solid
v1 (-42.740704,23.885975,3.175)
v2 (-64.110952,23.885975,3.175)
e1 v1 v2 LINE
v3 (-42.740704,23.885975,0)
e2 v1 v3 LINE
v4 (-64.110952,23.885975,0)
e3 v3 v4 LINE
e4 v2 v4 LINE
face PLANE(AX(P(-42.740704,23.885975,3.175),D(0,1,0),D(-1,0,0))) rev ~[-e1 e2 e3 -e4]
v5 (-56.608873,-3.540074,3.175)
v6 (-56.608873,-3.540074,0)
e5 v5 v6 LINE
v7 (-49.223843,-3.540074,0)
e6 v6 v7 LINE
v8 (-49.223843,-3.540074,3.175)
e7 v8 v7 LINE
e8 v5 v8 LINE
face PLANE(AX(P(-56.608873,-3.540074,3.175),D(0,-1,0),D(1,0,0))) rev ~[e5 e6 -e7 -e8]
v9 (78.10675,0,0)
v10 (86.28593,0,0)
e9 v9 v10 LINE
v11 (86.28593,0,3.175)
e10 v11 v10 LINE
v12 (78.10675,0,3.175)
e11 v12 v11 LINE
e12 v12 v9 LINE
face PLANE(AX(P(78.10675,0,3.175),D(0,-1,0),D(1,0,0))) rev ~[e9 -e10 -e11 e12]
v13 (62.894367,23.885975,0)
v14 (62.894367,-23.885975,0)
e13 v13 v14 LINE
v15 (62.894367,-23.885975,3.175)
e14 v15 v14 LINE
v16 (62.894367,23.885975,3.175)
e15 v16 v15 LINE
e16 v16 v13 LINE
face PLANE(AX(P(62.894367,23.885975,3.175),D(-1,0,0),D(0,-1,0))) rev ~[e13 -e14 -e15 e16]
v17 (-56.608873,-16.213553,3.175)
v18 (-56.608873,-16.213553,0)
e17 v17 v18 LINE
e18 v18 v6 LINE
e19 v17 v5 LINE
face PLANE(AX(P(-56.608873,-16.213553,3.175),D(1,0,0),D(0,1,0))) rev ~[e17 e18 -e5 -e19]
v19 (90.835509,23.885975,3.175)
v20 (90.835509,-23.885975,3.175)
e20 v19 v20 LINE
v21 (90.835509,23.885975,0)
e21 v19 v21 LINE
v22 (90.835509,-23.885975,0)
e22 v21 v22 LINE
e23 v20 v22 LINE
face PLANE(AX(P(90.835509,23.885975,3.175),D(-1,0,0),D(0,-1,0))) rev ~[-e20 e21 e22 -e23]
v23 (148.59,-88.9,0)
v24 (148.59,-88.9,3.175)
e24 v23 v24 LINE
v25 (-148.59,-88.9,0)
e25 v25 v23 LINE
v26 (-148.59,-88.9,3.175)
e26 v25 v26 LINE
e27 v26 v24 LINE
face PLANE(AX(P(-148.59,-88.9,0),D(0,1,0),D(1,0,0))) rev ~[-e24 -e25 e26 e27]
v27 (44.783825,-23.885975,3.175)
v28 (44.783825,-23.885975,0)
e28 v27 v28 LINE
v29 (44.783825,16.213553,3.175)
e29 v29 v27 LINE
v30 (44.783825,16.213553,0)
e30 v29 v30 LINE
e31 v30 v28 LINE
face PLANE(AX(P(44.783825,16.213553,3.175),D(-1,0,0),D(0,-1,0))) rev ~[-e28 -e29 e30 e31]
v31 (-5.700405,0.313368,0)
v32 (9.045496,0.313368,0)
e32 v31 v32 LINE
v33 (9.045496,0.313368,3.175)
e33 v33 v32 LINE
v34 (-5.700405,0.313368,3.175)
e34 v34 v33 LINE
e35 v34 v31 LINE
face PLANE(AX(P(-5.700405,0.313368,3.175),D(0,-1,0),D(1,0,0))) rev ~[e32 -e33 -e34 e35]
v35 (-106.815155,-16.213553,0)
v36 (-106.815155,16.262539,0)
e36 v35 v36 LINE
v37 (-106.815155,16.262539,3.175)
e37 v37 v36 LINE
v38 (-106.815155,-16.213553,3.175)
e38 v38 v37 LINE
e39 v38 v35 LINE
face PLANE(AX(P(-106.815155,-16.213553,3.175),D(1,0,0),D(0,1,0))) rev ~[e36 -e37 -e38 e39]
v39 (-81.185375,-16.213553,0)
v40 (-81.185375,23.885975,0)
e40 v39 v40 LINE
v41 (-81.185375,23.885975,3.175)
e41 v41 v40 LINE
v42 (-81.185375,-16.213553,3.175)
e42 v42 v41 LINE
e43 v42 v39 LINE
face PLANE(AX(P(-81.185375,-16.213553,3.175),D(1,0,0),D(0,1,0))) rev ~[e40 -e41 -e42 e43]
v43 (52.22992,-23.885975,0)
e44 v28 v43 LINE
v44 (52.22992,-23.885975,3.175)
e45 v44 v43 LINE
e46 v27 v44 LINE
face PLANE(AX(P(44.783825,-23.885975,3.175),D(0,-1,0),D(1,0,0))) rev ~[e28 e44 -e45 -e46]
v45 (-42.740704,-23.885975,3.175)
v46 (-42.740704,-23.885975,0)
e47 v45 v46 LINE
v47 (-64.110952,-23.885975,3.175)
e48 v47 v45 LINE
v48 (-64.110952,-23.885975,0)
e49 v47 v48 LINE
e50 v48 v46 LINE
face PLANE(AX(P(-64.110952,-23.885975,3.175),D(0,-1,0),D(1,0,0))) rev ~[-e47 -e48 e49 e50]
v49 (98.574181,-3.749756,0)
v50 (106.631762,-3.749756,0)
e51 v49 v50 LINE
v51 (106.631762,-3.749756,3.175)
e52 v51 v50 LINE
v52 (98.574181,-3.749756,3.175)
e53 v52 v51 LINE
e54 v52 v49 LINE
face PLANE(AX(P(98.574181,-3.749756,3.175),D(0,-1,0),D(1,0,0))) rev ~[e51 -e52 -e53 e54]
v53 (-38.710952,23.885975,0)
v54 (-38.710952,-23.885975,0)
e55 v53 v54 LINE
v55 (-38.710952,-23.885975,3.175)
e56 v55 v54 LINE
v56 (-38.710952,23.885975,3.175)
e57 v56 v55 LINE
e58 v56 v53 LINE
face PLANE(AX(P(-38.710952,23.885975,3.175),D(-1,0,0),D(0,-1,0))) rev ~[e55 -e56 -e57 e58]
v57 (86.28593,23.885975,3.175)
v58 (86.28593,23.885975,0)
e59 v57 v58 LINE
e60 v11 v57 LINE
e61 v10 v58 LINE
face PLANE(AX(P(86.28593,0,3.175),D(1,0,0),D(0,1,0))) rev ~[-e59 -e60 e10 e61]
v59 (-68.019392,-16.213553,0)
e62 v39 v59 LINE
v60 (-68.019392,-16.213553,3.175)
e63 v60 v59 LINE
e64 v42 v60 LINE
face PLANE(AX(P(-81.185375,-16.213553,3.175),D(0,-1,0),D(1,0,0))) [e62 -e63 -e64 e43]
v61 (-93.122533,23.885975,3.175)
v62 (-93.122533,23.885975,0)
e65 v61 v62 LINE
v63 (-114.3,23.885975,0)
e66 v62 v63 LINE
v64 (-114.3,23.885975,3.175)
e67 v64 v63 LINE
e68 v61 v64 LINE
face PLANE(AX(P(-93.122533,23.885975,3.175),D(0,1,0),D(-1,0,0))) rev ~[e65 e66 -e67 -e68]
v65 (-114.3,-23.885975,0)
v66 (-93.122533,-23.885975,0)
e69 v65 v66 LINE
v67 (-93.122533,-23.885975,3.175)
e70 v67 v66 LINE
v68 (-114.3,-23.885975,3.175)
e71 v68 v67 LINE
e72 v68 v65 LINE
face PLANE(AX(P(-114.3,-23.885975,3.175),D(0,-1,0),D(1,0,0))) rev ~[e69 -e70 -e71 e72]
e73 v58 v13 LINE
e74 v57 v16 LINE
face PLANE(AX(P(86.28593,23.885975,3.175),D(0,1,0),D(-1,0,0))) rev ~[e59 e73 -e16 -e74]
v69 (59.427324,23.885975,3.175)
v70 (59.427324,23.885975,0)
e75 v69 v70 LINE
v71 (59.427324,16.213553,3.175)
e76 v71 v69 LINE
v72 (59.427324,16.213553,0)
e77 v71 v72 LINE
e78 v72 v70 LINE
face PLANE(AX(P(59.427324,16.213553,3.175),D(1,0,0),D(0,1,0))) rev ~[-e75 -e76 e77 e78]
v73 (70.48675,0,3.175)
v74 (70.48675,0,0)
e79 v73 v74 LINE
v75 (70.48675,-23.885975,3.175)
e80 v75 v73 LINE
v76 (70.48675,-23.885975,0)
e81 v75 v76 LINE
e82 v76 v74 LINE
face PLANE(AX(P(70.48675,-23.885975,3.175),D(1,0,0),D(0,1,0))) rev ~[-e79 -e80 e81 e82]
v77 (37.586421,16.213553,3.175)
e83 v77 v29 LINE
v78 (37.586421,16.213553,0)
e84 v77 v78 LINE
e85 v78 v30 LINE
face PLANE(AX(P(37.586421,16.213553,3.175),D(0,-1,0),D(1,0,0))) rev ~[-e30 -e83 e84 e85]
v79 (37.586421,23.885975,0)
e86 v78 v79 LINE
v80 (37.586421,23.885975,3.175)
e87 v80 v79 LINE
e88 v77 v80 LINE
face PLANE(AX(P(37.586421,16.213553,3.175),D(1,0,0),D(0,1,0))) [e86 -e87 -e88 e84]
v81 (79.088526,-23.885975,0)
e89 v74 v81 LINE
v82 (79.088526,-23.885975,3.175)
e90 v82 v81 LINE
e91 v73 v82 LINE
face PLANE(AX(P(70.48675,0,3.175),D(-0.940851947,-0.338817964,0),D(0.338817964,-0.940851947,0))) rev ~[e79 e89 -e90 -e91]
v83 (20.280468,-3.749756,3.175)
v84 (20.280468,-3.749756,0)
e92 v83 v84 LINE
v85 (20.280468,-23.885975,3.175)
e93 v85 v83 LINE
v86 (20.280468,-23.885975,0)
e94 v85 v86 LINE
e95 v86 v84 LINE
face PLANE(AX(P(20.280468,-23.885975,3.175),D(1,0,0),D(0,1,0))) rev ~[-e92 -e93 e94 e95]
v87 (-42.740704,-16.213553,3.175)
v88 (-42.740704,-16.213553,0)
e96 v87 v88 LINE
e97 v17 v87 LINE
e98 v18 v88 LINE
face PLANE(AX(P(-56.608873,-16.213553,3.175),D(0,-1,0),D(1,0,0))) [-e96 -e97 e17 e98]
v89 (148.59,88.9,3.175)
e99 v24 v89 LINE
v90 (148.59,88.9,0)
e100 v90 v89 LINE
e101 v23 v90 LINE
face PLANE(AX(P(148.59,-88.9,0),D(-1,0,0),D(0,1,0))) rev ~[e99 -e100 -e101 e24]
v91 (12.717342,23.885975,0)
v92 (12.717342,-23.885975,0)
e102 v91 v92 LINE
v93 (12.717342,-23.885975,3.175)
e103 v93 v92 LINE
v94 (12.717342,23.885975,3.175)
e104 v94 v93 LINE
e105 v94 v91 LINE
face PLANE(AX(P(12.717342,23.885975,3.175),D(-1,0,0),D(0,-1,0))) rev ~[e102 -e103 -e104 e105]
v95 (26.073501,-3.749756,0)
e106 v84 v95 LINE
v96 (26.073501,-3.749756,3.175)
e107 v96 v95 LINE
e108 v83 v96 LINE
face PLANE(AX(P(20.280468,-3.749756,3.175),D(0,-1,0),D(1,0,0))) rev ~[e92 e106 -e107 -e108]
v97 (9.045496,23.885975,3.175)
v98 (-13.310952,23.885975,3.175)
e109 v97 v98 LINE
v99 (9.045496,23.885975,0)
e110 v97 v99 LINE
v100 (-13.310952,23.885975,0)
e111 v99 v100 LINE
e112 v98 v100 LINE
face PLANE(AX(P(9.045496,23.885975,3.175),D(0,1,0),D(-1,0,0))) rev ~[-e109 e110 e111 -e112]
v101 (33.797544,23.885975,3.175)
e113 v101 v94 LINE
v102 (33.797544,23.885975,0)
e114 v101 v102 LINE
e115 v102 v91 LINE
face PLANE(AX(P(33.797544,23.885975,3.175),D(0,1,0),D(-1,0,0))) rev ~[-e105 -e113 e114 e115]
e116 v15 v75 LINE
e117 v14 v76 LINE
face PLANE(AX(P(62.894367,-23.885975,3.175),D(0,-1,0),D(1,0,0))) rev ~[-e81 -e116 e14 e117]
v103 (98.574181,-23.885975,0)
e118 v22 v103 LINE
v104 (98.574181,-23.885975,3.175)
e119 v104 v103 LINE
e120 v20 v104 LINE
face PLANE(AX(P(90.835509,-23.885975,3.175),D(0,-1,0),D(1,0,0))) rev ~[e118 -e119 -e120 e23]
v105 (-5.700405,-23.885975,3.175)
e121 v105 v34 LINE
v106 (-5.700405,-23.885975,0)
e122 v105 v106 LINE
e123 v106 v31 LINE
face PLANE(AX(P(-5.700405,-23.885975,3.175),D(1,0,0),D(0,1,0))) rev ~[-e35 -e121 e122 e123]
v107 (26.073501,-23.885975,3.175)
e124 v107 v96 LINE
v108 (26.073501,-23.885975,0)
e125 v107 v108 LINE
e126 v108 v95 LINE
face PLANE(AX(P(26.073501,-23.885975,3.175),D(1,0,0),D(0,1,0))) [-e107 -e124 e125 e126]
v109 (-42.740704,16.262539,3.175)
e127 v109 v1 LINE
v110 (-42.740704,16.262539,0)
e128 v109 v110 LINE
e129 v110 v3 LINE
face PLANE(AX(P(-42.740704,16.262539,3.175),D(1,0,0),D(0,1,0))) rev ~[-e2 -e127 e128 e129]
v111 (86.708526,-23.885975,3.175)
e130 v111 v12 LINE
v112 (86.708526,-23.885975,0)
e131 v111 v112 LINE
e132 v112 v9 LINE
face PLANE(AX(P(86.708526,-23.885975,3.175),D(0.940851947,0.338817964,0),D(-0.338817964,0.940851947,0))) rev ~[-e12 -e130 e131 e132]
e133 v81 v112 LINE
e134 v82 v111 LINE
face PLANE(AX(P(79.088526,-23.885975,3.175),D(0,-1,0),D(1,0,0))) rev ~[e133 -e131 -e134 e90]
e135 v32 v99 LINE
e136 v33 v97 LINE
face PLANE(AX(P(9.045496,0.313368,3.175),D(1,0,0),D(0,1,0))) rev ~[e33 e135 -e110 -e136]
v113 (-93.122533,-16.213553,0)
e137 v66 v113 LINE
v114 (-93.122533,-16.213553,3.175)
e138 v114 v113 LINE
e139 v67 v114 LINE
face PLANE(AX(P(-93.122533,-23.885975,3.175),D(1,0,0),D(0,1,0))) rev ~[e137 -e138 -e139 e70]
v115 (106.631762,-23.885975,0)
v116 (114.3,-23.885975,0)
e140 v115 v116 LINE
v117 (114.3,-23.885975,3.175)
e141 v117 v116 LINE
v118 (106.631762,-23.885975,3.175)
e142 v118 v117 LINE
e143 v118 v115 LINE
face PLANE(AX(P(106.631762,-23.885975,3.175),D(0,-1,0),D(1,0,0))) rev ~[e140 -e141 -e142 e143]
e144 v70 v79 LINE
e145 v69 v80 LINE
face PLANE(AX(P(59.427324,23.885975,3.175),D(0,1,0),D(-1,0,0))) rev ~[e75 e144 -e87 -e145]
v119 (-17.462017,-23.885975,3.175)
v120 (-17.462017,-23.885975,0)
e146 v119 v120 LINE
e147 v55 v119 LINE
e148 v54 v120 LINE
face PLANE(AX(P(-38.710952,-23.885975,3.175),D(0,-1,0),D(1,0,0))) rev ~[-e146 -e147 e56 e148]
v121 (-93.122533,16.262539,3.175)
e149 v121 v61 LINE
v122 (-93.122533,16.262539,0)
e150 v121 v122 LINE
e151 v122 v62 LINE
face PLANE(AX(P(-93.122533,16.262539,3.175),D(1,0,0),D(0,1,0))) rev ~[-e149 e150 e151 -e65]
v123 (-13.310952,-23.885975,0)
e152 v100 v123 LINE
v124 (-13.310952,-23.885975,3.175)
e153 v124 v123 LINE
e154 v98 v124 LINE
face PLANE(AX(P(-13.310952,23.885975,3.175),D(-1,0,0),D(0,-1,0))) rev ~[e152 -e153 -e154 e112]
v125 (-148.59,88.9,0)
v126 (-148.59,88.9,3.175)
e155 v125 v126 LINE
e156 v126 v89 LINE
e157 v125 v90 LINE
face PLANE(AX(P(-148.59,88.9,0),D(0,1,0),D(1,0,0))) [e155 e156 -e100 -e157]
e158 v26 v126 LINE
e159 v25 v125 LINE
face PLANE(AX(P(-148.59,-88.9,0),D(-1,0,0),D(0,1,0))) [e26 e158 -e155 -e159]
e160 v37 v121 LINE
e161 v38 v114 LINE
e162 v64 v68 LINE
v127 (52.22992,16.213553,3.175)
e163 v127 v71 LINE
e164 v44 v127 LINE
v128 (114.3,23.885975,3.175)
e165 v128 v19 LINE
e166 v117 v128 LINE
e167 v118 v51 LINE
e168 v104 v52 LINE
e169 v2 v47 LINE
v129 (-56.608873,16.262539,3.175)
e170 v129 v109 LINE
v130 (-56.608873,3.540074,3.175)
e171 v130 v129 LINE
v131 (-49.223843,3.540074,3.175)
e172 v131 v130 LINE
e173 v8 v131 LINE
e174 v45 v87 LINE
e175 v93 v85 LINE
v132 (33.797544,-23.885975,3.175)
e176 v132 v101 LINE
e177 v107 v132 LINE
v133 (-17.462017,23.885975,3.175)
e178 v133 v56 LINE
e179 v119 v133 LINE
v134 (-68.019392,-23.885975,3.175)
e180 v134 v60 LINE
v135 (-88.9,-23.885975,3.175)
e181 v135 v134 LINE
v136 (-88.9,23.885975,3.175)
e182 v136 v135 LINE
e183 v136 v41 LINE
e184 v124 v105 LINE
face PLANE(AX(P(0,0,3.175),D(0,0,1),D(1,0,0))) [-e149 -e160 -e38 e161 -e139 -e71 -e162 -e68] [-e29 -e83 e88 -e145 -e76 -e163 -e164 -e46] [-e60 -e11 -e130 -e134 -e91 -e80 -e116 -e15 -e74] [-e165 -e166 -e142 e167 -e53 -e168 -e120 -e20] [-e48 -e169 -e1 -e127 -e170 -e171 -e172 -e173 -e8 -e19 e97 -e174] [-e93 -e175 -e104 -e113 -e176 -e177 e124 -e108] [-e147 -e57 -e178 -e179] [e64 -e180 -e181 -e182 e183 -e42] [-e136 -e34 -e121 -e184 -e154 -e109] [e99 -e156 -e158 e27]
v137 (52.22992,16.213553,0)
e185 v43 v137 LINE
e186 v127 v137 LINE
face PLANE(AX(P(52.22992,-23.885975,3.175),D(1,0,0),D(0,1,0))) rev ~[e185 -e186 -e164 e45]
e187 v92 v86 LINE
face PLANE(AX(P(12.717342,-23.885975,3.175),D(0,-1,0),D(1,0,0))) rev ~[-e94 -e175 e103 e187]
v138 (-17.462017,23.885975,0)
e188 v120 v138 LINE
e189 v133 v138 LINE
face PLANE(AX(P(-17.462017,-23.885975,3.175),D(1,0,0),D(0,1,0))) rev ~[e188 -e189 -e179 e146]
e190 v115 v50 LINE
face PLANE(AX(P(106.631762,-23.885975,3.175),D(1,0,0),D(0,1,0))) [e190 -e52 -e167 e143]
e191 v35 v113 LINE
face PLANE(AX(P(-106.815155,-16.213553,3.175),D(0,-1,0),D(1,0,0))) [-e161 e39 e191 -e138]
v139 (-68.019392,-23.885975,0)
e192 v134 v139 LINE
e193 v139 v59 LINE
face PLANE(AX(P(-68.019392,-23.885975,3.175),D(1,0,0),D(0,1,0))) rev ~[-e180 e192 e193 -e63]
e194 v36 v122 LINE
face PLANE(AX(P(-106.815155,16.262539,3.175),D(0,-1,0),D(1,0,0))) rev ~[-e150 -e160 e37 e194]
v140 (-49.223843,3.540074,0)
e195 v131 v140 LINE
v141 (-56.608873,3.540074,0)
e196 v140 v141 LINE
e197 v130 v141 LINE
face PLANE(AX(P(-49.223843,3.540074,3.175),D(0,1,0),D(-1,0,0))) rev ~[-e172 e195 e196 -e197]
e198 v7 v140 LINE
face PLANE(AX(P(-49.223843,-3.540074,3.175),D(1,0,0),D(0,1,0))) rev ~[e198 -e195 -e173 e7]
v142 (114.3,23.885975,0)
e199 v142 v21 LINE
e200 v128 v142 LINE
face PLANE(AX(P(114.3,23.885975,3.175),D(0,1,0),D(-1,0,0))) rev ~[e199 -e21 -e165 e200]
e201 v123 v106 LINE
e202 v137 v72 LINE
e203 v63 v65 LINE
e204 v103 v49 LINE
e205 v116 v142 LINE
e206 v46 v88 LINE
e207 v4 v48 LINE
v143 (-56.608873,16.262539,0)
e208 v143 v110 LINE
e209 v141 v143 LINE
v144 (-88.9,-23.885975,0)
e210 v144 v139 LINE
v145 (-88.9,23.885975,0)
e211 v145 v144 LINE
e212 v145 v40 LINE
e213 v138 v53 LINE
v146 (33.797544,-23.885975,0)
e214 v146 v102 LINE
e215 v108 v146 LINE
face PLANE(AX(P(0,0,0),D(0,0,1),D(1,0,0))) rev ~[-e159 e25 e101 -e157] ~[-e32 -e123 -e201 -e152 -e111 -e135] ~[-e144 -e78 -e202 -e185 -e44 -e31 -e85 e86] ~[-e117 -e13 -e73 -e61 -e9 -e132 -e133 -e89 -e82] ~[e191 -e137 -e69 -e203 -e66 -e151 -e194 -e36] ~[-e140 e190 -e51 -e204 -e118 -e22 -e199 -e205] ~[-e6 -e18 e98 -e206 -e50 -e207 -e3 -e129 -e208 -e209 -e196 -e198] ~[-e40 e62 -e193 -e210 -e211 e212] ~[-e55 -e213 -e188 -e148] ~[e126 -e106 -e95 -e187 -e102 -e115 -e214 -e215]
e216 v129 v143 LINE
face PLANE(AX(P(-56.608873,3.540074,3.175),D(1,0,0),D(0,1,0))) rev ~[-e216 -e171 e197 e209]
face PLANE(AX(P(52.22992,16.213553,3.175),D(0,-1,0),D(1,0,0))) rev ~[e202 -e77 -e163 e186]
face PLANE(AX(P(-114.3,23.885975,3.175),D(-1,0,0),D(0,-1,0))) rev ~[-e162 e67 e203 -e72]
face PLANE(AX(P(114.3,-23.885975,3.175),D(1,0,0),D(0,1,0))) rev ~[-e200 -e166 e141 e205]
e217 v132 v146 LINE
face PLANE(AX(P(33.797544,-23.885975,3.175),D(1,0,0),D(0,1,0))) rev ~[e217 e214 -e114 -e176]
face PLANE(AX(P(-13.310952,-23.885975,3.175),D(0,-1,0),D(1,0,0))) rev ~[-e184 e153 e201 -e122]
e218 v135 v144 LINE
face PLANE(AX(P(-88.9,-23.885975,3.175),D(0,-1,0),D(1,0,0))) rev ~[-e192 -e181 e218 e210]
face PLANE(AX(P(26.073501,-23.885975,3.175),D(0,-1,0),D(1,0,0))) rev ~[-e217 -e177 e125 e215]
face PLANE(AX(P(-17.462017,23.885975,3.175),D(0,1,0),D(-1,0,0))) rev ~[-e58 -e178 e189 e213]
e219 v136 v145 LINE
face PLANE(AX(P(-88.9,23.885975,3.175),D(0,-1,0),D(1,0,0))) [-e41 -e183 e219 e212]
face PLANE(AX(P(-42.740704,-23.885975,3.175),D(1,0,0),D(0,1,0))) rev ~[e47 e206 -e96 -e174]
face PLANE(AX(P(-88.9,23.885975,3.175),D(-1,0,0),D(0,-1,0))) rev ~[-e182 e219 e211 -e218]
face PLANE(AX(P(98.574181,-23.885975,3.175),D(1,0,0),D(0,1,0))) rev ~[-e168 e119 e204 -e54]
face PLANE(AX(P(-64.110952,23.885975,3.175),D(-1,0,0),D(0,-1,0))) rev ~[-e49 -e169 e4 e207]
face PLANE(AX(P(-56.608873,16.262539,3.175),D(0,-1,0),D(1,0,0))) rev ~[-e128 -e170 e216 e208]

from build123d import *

# Parameters (mm, degrees)
SKETCH1_W           = 297.18
SKETCH1_H           = 177.8
BOSS_EXTRUDE1_DEPTH = 3.175
SKETCH3_W           = 13.69262242
SKETCH3_H           = 7.623435988
SKETCH3_W_2         = 7.48484453
SKETCH3_H_2         = 16.262538767
SKETCH3_H_3         = 16.21355287
SKETCH3_H_4         = 7.672421885
SKETCH3_W_3         = 7.714624958
SKETCH3_H_5         = 23.885974755
SKETCH3_W_4         = 13.165983096
SKETCH3_W_5         = 7.502078631
SKETCH3_H_6         = 3.540074356
SKETCH3_W_6         = 7.385030665
SKETCH3_H_7         = 12.673478514
SKETCH3_W_7         = 13.868168861
SKETCH3_H_8         = 12.722464411
SKETCH3_W_8         = 7.610546603
SKETCH3_H_9         = 8.377243284
SKETCH3_H_10        = 7.522942085
SKETCH3_W_9         = 7.199942392
SKETCH3_W_10        = 7.545958675
SKETCH3_H_11        = 0.313367501
SKETCH3_W_11        = 6.151941086
SKETCH3_W_12        = 7.563125845
SKETCH3_W_13        = 5.793032563
SKETCH3_W_14        = 7.724043416
SKETCH3_H_12        = 12.138714327
SKETCH3_H_13        = 20.136219216
SKETCH3_H_14        = 4.074838543
SKETCH3_H_15        = 3.749755539
SKETCH3_W_15        = 7.197404092
SKETCH3_W_16        = 7.446094885
SKETCH3_W_17        = 7.592383586
SKETCH3_W_18        = 8.426229181
SKETCH3_W_19        = 7.372950534
SKETCH3_H_16        = 7.836309586
SKETCH3_W_20        = 7.738672287
SKETCH3_W_21        = 8.057581655
SKETCH3_W_22        = 7.668237515
CUT_EXTRUDE4_DEPTH  = 3.175


with BuildPart() as part:
    # Sketch1 → Boss-Extrude1 (new body)
    with BuildSketch(Plane.XY):
        Rectangle(SKETCH1_W, SKETCH1_H)
    extrude(amount=BOSS_EXTRUDE1_DEPTH)

    # Sketch3 → Cut-Extrude4 (cut)
    with BuildSketch(Plane.XY.offset(3.175)):
        with Locations((-99.96884426, 20.074256761)):
            Rectangle(SKETCH3_W, SKETCH3_H)
        with Locations((-110.557577735, 20.074256761)):
            Rectangle(SKETCH3_W_2, SKETCH3_H)
        with Locations((-110.557577735, 8.131269384)):
            Rectangle(SKETCH3_W_2, SKETCH3_H_2)
        with Locations((-110.557577735, -8.106776435)):
            Rectangle(SKETCH3_W_2, SKETCH3_H_3)
        with Locations((-110.557577735, -20.049763813)):
            Rectangle(SKETCH3_W_2, SKETCH3_H_4)
        with Locations((-99.96884426, -20.049763813)):
            Rectangle(SKETCH3_W, SKETCH3_H_4)
        with Locations((-85.042687521, 11.942987378)):
            Rectangle(SKETCH3_W_3, SKETCH3_H_5)
        with Locations((-85.042687521, -8.106776435)):
            Rectangle(SKETCH3_W_3, SKETCH3_H_3)
        with Locations((-74.602383494, -20.049763813)):
            Rectangle(SKETCH3_W_4, SKETCH3_H_4)
        with Locations((-85.042687521, -20.049763813)):
            Rectangle(SKETCH3_W_3, SKETCH3_H_4)
        with Locations((-60.359912579, 1.770037178)):
            Rectangle(SKETCH3_W_5, SKETCH3_H_6)
        with Locations((-52.916357931, 1.770037178)):
            Rectangle(SKETCH3_W_6, SKETCH3_H_6)
        with Locations((-52.916357931, -1.770037178)):
            Rectangle(SKETCH3_W_6, SKETCH3_H_6)
        with Locations((-60.359912579, -1.770037178)):
            Rectangle(SKETCH3_W_5, SKETCH3_H_6)
        with Locations((-60.359912579, -9.876813613)):
            Rectangle(SKETCH3_W_5, SKETCH3_H_7)
        with Locations((-60.359912579, -20.049763813)):
            Rectangle(SKETCH3_W_5, SKETCH3_H_4)
        with Locations((-49.674788833, -20.049763813)):
            Rectangle(SKETCH3_W_7, SKETCH3_H_4)
        with Locations((-60.359912579, 9.901306562)):
            Rectangle(SKETCH3_W_5, SKETCH3_H_8)
        with Locations((-60.359912579, 20.074256761)):
            Rectangle(SKETCH3_W_5, SKETCH3_H)
        with Locations((-49.674788833, 20.074256761)):
            Rectangle(SKETCH3_W_7, SKETCH3_H)
        Polygon((-25.010513832, 0), (-17.462016857, 0), (-17.462016857, 23.885974755), (-38.710951894, 23.885974755), (-38.710951894, 0), (-31.162454918, 0), (-31.162454918, 16.21355287), (-25.010513832, 16.21355287), align=None)
        Polygon((-17.462016857, -23.885974755), (-17.462016857, 0), (-25.010513832, 0), (-25.010513832, -16.21355287), (-31.162454918, -16.21355287), (-31.162454918, 0), (-38.710951894, 0), (-38.710951894, -23.885974755), align=None)
        with Locations((-9.505678593, -11.942987378)):
            Rectangle(SKETCH3_W_8, SKETCH3_H_5)
        with Locations((-9.505678593, 20.049763813)):
            Rectangle(SKETCH3_W_8, SKETCH3_H_4)
        with Locations((-9.505678593, 12.024931228)):
            Rectangle(SKETCH3_W_8, SKETCH3_H_9)
        with Locations((-9.505678593, 4.074838544)):
            Rectangle(SKETCH3_W_8, SKETCH3_H_10)
        with Locations((-2.100434095, 4.074838544)):
            Rectangle(SKETCH3_W_9, SKETCH3_H_10)
        with Locations((5.272516439, 4.074838544)):
            Rectangle(SKETCH3_W_10, SKETCH3_H_10)
        with Locations((5.272516439, 12.024931228)):
            Rectangle(SKETCH3_W_10, SKETCH3_H_9)
        with Locations((5.272516439, 20.049763813)):
            Rectangle(SKETCH3_W_10, SKETCH3_H_4)
        with Locations((-2.100434095, 20.049763813)):
            Rectangle(SKETCH3_W_9, SKETCH3_H_4)
        with Locations((-9.505678593, 0.15668375)):
            Rectangle(SKETCH3_W_8, SKETCH3_H_11)
        with Locations((-28.086484375, 8.106776435)):
            Rectangle(SKETCH3_W_11, SKETCH3_H_3)
        with Locations((-28.086484375, -8.106776435)):
            Rectangle(SKETCH3_W_11, SKETCH3_H_3)
        with Locations((-2.100434095, 12.024931228)):
            Rectangle(SKETCH3_W_9, SKETCH3_H_9)
        with Locations((16.498905095, 20.049763813)):
            Rectangle(SKETCH3_W_12, SKETCH3_H_4)
        with Locations((23.176984299, 20.049763813)):
            Rectangle(SKETCH3_W_13, SKETCH3_H_4)
        with Locations((29.935522289, 20.049763813)):
            Rectangle(SKETCH3_W_14, SKETCH3_H_4)
        with Locations((29.935522289, 10.144195706)):
            Rectangle(SKETCH3_W_14, SKETCH3_H_12)
        with Locations((16.498905095, 10.144195706)):
            Rectangle(SKETCH3_W_12, SKETCH3_H_12)
        with Locations((16.498905095, -13.817865147)):
            Rectangle(SKETCH3_W_12, SKETCH3_H_13)
        with Locations((29.935522289, -13.817865147)):
            Rectangle(SKETCH3_W_14, SKETCH3_H_13)
        with Locations((23.176984299, 2.037419272)):
            Rectangle(SKETCH3_W_13, SKETCH3_H_14)
        with Locations((23.176984299, -1.87487777)):
            Rectangle(SKETCH3_W_13, SKETCH3_H_15)
        with Locations((16.498905095, -1.87487777)):
            Rectangle(SKETCH3_W_12, SKETCH3_H_15)
        with Locations((16.498905095, 2.037419272)):
            Rectangle(SKETCH3_W_12, SKETCH3_H_14)
        with Locations((29.935522289, 2.037419272)):
            Rectangle(SKETCH3_W_14, SKETCH3_H_14)
        with Locations((29.935522289, -1.87487777)):
            Rectangle(SKETCH3_W_14, SKETCH3_H_15)
        with Locations((23.176984299, 10.144195706)):
            Rectangle(SKETCH3_W_13, SKETCH3_H_12)
        with Locations((41.185123401, 20.049763813)):
            Rectangle(SKETCH3_W_15, SKETCH3_H_4)
        with Locations((48.50687289, 20.049763813)):
            Rectangle(SKETCH3_W_16, SKETCH3_H_4)
        with Locations((55.828622378, 20.049763813)):
            Rectangle(SKETCH3_W_15, SKETCH3_H_4)
        with Locations((48.50687289, 8.106776435)):
            Rectangle(SKETCH3_W_16, SKETCH3_H_3)
        with Locations((66.690558432, 20.049763813)):
            Rectangle(SKETCH3_W_17, SKETCH3_H_4)
        with Locations((74.699864816, 20.049763813)):
            Rectangle(SKETCH3_W_18, SKETCH3_H_4)
        with Locations((48.50687289, -11.942987378)):
            Rectangle(SKETCH3_W_16, SKETCH3_H_5)
        with Locations((82.599454673, 20.049763813)):
            Rectangle(SKETCH3_W_19, SKETCH3_H_4)
        with Locations((74.699864816, 12.024931228)):
            Rectangle(SKETCH3_W_18, SKETCH3_H_9)
        with Locations((66.690558432, 12.024931228)):
            Rectangle(SKETCH3_W_17, SKETCH3_H_9)
        with Locations((82.599454673, 12.024931228)):
            Rectangle(SKETCH3_W_19, SKETCH3_H_9)
        Polygon((70.486750225, 7.836309586), (70.486750225, 0), (78.106750225, 0), (86.28592994, 0), (86.28592994, 7.836309586), (78.912979406, 7.836309586), align=None)
        Polygon((78.106750225, 0), (70.486750225, 0), (79.088525848, -23.885974755), (86.708525848, -23.885974755), align=None)
        with Locations((66.690558432, -11.942987378)):
            Rectangle(SKETCH3_W_17, SKETCH3_H_5)
        with Locations((66.690558432, 3.918154793)):
            Rectangle(SKETCH3_W_17, SKETCH3_H_16)
        with Locations((94.704844686, 20.049763813)):
            Rectangle(SKETCH3_W_20, SKETCH3_H_4)
        with Locations((102.602971658, 20.049763813)):
            Rectangle(SKETCH3_W_21, SKETCH3_H_4)
        with Locations((94.704844686, 10.144195706)):
            Rectangle(SKETCH3_W_20, SKETCH3_H_12)
        with Locations((110.465881243, 20.049763813)):
            Rectangle(SKETCH3_W_22, SKETCH3_H_4)
        with Locations((110.465881243, 10.144195706)):
            Rectangle(SKETCH3_W_22, SKETCH3_H_12)
        with Locations((110.465881243, -13.817865147)):
            Rectangle(SKETCH3_W_22, SKETCH3_H_13)
        with Locations((102.602971658, 10.144195706)):
            Rectangle(SKETCH3_W_21, SKETCH3_H_12)
        with Locations((94.704844686, -1.87487777)):
            Rectangle(SKETCH3_W_20, SKETCH3_H_15)
        with Locations((94.704844686, 2.037419272)):
            Rectangle(SKETCH3_W_20, SKETCH3_H_14)
        with Locations((110.465881243, 2.037419272)):
            Rectangle(SKETCH3_W_22, SKETCH3_H_14)
        with Locations((102.602971658, -1.87487777)):
            Rectangle(SKETCH3_W_21, SKETCH3_H_15)
        with Locations((94.704844686, -13.817865147)):
            Rectangle(SKETCH3_W_20, SKETCH3_H_13)
        with Locations((102.602971658, 2.037419272)):
            Rectangle(SKETCH3_W_21, SKETCH3_H_14)
        with Locations((110.465881243, -1.87487777)):
            Rectangle(SKETCH3_W_22, SKETCH3_H_15)
    extrude(amount=-CUT_EXTRUDE4_DEPTH, mode=Mode.SUBTRACT)


solid = part.part
